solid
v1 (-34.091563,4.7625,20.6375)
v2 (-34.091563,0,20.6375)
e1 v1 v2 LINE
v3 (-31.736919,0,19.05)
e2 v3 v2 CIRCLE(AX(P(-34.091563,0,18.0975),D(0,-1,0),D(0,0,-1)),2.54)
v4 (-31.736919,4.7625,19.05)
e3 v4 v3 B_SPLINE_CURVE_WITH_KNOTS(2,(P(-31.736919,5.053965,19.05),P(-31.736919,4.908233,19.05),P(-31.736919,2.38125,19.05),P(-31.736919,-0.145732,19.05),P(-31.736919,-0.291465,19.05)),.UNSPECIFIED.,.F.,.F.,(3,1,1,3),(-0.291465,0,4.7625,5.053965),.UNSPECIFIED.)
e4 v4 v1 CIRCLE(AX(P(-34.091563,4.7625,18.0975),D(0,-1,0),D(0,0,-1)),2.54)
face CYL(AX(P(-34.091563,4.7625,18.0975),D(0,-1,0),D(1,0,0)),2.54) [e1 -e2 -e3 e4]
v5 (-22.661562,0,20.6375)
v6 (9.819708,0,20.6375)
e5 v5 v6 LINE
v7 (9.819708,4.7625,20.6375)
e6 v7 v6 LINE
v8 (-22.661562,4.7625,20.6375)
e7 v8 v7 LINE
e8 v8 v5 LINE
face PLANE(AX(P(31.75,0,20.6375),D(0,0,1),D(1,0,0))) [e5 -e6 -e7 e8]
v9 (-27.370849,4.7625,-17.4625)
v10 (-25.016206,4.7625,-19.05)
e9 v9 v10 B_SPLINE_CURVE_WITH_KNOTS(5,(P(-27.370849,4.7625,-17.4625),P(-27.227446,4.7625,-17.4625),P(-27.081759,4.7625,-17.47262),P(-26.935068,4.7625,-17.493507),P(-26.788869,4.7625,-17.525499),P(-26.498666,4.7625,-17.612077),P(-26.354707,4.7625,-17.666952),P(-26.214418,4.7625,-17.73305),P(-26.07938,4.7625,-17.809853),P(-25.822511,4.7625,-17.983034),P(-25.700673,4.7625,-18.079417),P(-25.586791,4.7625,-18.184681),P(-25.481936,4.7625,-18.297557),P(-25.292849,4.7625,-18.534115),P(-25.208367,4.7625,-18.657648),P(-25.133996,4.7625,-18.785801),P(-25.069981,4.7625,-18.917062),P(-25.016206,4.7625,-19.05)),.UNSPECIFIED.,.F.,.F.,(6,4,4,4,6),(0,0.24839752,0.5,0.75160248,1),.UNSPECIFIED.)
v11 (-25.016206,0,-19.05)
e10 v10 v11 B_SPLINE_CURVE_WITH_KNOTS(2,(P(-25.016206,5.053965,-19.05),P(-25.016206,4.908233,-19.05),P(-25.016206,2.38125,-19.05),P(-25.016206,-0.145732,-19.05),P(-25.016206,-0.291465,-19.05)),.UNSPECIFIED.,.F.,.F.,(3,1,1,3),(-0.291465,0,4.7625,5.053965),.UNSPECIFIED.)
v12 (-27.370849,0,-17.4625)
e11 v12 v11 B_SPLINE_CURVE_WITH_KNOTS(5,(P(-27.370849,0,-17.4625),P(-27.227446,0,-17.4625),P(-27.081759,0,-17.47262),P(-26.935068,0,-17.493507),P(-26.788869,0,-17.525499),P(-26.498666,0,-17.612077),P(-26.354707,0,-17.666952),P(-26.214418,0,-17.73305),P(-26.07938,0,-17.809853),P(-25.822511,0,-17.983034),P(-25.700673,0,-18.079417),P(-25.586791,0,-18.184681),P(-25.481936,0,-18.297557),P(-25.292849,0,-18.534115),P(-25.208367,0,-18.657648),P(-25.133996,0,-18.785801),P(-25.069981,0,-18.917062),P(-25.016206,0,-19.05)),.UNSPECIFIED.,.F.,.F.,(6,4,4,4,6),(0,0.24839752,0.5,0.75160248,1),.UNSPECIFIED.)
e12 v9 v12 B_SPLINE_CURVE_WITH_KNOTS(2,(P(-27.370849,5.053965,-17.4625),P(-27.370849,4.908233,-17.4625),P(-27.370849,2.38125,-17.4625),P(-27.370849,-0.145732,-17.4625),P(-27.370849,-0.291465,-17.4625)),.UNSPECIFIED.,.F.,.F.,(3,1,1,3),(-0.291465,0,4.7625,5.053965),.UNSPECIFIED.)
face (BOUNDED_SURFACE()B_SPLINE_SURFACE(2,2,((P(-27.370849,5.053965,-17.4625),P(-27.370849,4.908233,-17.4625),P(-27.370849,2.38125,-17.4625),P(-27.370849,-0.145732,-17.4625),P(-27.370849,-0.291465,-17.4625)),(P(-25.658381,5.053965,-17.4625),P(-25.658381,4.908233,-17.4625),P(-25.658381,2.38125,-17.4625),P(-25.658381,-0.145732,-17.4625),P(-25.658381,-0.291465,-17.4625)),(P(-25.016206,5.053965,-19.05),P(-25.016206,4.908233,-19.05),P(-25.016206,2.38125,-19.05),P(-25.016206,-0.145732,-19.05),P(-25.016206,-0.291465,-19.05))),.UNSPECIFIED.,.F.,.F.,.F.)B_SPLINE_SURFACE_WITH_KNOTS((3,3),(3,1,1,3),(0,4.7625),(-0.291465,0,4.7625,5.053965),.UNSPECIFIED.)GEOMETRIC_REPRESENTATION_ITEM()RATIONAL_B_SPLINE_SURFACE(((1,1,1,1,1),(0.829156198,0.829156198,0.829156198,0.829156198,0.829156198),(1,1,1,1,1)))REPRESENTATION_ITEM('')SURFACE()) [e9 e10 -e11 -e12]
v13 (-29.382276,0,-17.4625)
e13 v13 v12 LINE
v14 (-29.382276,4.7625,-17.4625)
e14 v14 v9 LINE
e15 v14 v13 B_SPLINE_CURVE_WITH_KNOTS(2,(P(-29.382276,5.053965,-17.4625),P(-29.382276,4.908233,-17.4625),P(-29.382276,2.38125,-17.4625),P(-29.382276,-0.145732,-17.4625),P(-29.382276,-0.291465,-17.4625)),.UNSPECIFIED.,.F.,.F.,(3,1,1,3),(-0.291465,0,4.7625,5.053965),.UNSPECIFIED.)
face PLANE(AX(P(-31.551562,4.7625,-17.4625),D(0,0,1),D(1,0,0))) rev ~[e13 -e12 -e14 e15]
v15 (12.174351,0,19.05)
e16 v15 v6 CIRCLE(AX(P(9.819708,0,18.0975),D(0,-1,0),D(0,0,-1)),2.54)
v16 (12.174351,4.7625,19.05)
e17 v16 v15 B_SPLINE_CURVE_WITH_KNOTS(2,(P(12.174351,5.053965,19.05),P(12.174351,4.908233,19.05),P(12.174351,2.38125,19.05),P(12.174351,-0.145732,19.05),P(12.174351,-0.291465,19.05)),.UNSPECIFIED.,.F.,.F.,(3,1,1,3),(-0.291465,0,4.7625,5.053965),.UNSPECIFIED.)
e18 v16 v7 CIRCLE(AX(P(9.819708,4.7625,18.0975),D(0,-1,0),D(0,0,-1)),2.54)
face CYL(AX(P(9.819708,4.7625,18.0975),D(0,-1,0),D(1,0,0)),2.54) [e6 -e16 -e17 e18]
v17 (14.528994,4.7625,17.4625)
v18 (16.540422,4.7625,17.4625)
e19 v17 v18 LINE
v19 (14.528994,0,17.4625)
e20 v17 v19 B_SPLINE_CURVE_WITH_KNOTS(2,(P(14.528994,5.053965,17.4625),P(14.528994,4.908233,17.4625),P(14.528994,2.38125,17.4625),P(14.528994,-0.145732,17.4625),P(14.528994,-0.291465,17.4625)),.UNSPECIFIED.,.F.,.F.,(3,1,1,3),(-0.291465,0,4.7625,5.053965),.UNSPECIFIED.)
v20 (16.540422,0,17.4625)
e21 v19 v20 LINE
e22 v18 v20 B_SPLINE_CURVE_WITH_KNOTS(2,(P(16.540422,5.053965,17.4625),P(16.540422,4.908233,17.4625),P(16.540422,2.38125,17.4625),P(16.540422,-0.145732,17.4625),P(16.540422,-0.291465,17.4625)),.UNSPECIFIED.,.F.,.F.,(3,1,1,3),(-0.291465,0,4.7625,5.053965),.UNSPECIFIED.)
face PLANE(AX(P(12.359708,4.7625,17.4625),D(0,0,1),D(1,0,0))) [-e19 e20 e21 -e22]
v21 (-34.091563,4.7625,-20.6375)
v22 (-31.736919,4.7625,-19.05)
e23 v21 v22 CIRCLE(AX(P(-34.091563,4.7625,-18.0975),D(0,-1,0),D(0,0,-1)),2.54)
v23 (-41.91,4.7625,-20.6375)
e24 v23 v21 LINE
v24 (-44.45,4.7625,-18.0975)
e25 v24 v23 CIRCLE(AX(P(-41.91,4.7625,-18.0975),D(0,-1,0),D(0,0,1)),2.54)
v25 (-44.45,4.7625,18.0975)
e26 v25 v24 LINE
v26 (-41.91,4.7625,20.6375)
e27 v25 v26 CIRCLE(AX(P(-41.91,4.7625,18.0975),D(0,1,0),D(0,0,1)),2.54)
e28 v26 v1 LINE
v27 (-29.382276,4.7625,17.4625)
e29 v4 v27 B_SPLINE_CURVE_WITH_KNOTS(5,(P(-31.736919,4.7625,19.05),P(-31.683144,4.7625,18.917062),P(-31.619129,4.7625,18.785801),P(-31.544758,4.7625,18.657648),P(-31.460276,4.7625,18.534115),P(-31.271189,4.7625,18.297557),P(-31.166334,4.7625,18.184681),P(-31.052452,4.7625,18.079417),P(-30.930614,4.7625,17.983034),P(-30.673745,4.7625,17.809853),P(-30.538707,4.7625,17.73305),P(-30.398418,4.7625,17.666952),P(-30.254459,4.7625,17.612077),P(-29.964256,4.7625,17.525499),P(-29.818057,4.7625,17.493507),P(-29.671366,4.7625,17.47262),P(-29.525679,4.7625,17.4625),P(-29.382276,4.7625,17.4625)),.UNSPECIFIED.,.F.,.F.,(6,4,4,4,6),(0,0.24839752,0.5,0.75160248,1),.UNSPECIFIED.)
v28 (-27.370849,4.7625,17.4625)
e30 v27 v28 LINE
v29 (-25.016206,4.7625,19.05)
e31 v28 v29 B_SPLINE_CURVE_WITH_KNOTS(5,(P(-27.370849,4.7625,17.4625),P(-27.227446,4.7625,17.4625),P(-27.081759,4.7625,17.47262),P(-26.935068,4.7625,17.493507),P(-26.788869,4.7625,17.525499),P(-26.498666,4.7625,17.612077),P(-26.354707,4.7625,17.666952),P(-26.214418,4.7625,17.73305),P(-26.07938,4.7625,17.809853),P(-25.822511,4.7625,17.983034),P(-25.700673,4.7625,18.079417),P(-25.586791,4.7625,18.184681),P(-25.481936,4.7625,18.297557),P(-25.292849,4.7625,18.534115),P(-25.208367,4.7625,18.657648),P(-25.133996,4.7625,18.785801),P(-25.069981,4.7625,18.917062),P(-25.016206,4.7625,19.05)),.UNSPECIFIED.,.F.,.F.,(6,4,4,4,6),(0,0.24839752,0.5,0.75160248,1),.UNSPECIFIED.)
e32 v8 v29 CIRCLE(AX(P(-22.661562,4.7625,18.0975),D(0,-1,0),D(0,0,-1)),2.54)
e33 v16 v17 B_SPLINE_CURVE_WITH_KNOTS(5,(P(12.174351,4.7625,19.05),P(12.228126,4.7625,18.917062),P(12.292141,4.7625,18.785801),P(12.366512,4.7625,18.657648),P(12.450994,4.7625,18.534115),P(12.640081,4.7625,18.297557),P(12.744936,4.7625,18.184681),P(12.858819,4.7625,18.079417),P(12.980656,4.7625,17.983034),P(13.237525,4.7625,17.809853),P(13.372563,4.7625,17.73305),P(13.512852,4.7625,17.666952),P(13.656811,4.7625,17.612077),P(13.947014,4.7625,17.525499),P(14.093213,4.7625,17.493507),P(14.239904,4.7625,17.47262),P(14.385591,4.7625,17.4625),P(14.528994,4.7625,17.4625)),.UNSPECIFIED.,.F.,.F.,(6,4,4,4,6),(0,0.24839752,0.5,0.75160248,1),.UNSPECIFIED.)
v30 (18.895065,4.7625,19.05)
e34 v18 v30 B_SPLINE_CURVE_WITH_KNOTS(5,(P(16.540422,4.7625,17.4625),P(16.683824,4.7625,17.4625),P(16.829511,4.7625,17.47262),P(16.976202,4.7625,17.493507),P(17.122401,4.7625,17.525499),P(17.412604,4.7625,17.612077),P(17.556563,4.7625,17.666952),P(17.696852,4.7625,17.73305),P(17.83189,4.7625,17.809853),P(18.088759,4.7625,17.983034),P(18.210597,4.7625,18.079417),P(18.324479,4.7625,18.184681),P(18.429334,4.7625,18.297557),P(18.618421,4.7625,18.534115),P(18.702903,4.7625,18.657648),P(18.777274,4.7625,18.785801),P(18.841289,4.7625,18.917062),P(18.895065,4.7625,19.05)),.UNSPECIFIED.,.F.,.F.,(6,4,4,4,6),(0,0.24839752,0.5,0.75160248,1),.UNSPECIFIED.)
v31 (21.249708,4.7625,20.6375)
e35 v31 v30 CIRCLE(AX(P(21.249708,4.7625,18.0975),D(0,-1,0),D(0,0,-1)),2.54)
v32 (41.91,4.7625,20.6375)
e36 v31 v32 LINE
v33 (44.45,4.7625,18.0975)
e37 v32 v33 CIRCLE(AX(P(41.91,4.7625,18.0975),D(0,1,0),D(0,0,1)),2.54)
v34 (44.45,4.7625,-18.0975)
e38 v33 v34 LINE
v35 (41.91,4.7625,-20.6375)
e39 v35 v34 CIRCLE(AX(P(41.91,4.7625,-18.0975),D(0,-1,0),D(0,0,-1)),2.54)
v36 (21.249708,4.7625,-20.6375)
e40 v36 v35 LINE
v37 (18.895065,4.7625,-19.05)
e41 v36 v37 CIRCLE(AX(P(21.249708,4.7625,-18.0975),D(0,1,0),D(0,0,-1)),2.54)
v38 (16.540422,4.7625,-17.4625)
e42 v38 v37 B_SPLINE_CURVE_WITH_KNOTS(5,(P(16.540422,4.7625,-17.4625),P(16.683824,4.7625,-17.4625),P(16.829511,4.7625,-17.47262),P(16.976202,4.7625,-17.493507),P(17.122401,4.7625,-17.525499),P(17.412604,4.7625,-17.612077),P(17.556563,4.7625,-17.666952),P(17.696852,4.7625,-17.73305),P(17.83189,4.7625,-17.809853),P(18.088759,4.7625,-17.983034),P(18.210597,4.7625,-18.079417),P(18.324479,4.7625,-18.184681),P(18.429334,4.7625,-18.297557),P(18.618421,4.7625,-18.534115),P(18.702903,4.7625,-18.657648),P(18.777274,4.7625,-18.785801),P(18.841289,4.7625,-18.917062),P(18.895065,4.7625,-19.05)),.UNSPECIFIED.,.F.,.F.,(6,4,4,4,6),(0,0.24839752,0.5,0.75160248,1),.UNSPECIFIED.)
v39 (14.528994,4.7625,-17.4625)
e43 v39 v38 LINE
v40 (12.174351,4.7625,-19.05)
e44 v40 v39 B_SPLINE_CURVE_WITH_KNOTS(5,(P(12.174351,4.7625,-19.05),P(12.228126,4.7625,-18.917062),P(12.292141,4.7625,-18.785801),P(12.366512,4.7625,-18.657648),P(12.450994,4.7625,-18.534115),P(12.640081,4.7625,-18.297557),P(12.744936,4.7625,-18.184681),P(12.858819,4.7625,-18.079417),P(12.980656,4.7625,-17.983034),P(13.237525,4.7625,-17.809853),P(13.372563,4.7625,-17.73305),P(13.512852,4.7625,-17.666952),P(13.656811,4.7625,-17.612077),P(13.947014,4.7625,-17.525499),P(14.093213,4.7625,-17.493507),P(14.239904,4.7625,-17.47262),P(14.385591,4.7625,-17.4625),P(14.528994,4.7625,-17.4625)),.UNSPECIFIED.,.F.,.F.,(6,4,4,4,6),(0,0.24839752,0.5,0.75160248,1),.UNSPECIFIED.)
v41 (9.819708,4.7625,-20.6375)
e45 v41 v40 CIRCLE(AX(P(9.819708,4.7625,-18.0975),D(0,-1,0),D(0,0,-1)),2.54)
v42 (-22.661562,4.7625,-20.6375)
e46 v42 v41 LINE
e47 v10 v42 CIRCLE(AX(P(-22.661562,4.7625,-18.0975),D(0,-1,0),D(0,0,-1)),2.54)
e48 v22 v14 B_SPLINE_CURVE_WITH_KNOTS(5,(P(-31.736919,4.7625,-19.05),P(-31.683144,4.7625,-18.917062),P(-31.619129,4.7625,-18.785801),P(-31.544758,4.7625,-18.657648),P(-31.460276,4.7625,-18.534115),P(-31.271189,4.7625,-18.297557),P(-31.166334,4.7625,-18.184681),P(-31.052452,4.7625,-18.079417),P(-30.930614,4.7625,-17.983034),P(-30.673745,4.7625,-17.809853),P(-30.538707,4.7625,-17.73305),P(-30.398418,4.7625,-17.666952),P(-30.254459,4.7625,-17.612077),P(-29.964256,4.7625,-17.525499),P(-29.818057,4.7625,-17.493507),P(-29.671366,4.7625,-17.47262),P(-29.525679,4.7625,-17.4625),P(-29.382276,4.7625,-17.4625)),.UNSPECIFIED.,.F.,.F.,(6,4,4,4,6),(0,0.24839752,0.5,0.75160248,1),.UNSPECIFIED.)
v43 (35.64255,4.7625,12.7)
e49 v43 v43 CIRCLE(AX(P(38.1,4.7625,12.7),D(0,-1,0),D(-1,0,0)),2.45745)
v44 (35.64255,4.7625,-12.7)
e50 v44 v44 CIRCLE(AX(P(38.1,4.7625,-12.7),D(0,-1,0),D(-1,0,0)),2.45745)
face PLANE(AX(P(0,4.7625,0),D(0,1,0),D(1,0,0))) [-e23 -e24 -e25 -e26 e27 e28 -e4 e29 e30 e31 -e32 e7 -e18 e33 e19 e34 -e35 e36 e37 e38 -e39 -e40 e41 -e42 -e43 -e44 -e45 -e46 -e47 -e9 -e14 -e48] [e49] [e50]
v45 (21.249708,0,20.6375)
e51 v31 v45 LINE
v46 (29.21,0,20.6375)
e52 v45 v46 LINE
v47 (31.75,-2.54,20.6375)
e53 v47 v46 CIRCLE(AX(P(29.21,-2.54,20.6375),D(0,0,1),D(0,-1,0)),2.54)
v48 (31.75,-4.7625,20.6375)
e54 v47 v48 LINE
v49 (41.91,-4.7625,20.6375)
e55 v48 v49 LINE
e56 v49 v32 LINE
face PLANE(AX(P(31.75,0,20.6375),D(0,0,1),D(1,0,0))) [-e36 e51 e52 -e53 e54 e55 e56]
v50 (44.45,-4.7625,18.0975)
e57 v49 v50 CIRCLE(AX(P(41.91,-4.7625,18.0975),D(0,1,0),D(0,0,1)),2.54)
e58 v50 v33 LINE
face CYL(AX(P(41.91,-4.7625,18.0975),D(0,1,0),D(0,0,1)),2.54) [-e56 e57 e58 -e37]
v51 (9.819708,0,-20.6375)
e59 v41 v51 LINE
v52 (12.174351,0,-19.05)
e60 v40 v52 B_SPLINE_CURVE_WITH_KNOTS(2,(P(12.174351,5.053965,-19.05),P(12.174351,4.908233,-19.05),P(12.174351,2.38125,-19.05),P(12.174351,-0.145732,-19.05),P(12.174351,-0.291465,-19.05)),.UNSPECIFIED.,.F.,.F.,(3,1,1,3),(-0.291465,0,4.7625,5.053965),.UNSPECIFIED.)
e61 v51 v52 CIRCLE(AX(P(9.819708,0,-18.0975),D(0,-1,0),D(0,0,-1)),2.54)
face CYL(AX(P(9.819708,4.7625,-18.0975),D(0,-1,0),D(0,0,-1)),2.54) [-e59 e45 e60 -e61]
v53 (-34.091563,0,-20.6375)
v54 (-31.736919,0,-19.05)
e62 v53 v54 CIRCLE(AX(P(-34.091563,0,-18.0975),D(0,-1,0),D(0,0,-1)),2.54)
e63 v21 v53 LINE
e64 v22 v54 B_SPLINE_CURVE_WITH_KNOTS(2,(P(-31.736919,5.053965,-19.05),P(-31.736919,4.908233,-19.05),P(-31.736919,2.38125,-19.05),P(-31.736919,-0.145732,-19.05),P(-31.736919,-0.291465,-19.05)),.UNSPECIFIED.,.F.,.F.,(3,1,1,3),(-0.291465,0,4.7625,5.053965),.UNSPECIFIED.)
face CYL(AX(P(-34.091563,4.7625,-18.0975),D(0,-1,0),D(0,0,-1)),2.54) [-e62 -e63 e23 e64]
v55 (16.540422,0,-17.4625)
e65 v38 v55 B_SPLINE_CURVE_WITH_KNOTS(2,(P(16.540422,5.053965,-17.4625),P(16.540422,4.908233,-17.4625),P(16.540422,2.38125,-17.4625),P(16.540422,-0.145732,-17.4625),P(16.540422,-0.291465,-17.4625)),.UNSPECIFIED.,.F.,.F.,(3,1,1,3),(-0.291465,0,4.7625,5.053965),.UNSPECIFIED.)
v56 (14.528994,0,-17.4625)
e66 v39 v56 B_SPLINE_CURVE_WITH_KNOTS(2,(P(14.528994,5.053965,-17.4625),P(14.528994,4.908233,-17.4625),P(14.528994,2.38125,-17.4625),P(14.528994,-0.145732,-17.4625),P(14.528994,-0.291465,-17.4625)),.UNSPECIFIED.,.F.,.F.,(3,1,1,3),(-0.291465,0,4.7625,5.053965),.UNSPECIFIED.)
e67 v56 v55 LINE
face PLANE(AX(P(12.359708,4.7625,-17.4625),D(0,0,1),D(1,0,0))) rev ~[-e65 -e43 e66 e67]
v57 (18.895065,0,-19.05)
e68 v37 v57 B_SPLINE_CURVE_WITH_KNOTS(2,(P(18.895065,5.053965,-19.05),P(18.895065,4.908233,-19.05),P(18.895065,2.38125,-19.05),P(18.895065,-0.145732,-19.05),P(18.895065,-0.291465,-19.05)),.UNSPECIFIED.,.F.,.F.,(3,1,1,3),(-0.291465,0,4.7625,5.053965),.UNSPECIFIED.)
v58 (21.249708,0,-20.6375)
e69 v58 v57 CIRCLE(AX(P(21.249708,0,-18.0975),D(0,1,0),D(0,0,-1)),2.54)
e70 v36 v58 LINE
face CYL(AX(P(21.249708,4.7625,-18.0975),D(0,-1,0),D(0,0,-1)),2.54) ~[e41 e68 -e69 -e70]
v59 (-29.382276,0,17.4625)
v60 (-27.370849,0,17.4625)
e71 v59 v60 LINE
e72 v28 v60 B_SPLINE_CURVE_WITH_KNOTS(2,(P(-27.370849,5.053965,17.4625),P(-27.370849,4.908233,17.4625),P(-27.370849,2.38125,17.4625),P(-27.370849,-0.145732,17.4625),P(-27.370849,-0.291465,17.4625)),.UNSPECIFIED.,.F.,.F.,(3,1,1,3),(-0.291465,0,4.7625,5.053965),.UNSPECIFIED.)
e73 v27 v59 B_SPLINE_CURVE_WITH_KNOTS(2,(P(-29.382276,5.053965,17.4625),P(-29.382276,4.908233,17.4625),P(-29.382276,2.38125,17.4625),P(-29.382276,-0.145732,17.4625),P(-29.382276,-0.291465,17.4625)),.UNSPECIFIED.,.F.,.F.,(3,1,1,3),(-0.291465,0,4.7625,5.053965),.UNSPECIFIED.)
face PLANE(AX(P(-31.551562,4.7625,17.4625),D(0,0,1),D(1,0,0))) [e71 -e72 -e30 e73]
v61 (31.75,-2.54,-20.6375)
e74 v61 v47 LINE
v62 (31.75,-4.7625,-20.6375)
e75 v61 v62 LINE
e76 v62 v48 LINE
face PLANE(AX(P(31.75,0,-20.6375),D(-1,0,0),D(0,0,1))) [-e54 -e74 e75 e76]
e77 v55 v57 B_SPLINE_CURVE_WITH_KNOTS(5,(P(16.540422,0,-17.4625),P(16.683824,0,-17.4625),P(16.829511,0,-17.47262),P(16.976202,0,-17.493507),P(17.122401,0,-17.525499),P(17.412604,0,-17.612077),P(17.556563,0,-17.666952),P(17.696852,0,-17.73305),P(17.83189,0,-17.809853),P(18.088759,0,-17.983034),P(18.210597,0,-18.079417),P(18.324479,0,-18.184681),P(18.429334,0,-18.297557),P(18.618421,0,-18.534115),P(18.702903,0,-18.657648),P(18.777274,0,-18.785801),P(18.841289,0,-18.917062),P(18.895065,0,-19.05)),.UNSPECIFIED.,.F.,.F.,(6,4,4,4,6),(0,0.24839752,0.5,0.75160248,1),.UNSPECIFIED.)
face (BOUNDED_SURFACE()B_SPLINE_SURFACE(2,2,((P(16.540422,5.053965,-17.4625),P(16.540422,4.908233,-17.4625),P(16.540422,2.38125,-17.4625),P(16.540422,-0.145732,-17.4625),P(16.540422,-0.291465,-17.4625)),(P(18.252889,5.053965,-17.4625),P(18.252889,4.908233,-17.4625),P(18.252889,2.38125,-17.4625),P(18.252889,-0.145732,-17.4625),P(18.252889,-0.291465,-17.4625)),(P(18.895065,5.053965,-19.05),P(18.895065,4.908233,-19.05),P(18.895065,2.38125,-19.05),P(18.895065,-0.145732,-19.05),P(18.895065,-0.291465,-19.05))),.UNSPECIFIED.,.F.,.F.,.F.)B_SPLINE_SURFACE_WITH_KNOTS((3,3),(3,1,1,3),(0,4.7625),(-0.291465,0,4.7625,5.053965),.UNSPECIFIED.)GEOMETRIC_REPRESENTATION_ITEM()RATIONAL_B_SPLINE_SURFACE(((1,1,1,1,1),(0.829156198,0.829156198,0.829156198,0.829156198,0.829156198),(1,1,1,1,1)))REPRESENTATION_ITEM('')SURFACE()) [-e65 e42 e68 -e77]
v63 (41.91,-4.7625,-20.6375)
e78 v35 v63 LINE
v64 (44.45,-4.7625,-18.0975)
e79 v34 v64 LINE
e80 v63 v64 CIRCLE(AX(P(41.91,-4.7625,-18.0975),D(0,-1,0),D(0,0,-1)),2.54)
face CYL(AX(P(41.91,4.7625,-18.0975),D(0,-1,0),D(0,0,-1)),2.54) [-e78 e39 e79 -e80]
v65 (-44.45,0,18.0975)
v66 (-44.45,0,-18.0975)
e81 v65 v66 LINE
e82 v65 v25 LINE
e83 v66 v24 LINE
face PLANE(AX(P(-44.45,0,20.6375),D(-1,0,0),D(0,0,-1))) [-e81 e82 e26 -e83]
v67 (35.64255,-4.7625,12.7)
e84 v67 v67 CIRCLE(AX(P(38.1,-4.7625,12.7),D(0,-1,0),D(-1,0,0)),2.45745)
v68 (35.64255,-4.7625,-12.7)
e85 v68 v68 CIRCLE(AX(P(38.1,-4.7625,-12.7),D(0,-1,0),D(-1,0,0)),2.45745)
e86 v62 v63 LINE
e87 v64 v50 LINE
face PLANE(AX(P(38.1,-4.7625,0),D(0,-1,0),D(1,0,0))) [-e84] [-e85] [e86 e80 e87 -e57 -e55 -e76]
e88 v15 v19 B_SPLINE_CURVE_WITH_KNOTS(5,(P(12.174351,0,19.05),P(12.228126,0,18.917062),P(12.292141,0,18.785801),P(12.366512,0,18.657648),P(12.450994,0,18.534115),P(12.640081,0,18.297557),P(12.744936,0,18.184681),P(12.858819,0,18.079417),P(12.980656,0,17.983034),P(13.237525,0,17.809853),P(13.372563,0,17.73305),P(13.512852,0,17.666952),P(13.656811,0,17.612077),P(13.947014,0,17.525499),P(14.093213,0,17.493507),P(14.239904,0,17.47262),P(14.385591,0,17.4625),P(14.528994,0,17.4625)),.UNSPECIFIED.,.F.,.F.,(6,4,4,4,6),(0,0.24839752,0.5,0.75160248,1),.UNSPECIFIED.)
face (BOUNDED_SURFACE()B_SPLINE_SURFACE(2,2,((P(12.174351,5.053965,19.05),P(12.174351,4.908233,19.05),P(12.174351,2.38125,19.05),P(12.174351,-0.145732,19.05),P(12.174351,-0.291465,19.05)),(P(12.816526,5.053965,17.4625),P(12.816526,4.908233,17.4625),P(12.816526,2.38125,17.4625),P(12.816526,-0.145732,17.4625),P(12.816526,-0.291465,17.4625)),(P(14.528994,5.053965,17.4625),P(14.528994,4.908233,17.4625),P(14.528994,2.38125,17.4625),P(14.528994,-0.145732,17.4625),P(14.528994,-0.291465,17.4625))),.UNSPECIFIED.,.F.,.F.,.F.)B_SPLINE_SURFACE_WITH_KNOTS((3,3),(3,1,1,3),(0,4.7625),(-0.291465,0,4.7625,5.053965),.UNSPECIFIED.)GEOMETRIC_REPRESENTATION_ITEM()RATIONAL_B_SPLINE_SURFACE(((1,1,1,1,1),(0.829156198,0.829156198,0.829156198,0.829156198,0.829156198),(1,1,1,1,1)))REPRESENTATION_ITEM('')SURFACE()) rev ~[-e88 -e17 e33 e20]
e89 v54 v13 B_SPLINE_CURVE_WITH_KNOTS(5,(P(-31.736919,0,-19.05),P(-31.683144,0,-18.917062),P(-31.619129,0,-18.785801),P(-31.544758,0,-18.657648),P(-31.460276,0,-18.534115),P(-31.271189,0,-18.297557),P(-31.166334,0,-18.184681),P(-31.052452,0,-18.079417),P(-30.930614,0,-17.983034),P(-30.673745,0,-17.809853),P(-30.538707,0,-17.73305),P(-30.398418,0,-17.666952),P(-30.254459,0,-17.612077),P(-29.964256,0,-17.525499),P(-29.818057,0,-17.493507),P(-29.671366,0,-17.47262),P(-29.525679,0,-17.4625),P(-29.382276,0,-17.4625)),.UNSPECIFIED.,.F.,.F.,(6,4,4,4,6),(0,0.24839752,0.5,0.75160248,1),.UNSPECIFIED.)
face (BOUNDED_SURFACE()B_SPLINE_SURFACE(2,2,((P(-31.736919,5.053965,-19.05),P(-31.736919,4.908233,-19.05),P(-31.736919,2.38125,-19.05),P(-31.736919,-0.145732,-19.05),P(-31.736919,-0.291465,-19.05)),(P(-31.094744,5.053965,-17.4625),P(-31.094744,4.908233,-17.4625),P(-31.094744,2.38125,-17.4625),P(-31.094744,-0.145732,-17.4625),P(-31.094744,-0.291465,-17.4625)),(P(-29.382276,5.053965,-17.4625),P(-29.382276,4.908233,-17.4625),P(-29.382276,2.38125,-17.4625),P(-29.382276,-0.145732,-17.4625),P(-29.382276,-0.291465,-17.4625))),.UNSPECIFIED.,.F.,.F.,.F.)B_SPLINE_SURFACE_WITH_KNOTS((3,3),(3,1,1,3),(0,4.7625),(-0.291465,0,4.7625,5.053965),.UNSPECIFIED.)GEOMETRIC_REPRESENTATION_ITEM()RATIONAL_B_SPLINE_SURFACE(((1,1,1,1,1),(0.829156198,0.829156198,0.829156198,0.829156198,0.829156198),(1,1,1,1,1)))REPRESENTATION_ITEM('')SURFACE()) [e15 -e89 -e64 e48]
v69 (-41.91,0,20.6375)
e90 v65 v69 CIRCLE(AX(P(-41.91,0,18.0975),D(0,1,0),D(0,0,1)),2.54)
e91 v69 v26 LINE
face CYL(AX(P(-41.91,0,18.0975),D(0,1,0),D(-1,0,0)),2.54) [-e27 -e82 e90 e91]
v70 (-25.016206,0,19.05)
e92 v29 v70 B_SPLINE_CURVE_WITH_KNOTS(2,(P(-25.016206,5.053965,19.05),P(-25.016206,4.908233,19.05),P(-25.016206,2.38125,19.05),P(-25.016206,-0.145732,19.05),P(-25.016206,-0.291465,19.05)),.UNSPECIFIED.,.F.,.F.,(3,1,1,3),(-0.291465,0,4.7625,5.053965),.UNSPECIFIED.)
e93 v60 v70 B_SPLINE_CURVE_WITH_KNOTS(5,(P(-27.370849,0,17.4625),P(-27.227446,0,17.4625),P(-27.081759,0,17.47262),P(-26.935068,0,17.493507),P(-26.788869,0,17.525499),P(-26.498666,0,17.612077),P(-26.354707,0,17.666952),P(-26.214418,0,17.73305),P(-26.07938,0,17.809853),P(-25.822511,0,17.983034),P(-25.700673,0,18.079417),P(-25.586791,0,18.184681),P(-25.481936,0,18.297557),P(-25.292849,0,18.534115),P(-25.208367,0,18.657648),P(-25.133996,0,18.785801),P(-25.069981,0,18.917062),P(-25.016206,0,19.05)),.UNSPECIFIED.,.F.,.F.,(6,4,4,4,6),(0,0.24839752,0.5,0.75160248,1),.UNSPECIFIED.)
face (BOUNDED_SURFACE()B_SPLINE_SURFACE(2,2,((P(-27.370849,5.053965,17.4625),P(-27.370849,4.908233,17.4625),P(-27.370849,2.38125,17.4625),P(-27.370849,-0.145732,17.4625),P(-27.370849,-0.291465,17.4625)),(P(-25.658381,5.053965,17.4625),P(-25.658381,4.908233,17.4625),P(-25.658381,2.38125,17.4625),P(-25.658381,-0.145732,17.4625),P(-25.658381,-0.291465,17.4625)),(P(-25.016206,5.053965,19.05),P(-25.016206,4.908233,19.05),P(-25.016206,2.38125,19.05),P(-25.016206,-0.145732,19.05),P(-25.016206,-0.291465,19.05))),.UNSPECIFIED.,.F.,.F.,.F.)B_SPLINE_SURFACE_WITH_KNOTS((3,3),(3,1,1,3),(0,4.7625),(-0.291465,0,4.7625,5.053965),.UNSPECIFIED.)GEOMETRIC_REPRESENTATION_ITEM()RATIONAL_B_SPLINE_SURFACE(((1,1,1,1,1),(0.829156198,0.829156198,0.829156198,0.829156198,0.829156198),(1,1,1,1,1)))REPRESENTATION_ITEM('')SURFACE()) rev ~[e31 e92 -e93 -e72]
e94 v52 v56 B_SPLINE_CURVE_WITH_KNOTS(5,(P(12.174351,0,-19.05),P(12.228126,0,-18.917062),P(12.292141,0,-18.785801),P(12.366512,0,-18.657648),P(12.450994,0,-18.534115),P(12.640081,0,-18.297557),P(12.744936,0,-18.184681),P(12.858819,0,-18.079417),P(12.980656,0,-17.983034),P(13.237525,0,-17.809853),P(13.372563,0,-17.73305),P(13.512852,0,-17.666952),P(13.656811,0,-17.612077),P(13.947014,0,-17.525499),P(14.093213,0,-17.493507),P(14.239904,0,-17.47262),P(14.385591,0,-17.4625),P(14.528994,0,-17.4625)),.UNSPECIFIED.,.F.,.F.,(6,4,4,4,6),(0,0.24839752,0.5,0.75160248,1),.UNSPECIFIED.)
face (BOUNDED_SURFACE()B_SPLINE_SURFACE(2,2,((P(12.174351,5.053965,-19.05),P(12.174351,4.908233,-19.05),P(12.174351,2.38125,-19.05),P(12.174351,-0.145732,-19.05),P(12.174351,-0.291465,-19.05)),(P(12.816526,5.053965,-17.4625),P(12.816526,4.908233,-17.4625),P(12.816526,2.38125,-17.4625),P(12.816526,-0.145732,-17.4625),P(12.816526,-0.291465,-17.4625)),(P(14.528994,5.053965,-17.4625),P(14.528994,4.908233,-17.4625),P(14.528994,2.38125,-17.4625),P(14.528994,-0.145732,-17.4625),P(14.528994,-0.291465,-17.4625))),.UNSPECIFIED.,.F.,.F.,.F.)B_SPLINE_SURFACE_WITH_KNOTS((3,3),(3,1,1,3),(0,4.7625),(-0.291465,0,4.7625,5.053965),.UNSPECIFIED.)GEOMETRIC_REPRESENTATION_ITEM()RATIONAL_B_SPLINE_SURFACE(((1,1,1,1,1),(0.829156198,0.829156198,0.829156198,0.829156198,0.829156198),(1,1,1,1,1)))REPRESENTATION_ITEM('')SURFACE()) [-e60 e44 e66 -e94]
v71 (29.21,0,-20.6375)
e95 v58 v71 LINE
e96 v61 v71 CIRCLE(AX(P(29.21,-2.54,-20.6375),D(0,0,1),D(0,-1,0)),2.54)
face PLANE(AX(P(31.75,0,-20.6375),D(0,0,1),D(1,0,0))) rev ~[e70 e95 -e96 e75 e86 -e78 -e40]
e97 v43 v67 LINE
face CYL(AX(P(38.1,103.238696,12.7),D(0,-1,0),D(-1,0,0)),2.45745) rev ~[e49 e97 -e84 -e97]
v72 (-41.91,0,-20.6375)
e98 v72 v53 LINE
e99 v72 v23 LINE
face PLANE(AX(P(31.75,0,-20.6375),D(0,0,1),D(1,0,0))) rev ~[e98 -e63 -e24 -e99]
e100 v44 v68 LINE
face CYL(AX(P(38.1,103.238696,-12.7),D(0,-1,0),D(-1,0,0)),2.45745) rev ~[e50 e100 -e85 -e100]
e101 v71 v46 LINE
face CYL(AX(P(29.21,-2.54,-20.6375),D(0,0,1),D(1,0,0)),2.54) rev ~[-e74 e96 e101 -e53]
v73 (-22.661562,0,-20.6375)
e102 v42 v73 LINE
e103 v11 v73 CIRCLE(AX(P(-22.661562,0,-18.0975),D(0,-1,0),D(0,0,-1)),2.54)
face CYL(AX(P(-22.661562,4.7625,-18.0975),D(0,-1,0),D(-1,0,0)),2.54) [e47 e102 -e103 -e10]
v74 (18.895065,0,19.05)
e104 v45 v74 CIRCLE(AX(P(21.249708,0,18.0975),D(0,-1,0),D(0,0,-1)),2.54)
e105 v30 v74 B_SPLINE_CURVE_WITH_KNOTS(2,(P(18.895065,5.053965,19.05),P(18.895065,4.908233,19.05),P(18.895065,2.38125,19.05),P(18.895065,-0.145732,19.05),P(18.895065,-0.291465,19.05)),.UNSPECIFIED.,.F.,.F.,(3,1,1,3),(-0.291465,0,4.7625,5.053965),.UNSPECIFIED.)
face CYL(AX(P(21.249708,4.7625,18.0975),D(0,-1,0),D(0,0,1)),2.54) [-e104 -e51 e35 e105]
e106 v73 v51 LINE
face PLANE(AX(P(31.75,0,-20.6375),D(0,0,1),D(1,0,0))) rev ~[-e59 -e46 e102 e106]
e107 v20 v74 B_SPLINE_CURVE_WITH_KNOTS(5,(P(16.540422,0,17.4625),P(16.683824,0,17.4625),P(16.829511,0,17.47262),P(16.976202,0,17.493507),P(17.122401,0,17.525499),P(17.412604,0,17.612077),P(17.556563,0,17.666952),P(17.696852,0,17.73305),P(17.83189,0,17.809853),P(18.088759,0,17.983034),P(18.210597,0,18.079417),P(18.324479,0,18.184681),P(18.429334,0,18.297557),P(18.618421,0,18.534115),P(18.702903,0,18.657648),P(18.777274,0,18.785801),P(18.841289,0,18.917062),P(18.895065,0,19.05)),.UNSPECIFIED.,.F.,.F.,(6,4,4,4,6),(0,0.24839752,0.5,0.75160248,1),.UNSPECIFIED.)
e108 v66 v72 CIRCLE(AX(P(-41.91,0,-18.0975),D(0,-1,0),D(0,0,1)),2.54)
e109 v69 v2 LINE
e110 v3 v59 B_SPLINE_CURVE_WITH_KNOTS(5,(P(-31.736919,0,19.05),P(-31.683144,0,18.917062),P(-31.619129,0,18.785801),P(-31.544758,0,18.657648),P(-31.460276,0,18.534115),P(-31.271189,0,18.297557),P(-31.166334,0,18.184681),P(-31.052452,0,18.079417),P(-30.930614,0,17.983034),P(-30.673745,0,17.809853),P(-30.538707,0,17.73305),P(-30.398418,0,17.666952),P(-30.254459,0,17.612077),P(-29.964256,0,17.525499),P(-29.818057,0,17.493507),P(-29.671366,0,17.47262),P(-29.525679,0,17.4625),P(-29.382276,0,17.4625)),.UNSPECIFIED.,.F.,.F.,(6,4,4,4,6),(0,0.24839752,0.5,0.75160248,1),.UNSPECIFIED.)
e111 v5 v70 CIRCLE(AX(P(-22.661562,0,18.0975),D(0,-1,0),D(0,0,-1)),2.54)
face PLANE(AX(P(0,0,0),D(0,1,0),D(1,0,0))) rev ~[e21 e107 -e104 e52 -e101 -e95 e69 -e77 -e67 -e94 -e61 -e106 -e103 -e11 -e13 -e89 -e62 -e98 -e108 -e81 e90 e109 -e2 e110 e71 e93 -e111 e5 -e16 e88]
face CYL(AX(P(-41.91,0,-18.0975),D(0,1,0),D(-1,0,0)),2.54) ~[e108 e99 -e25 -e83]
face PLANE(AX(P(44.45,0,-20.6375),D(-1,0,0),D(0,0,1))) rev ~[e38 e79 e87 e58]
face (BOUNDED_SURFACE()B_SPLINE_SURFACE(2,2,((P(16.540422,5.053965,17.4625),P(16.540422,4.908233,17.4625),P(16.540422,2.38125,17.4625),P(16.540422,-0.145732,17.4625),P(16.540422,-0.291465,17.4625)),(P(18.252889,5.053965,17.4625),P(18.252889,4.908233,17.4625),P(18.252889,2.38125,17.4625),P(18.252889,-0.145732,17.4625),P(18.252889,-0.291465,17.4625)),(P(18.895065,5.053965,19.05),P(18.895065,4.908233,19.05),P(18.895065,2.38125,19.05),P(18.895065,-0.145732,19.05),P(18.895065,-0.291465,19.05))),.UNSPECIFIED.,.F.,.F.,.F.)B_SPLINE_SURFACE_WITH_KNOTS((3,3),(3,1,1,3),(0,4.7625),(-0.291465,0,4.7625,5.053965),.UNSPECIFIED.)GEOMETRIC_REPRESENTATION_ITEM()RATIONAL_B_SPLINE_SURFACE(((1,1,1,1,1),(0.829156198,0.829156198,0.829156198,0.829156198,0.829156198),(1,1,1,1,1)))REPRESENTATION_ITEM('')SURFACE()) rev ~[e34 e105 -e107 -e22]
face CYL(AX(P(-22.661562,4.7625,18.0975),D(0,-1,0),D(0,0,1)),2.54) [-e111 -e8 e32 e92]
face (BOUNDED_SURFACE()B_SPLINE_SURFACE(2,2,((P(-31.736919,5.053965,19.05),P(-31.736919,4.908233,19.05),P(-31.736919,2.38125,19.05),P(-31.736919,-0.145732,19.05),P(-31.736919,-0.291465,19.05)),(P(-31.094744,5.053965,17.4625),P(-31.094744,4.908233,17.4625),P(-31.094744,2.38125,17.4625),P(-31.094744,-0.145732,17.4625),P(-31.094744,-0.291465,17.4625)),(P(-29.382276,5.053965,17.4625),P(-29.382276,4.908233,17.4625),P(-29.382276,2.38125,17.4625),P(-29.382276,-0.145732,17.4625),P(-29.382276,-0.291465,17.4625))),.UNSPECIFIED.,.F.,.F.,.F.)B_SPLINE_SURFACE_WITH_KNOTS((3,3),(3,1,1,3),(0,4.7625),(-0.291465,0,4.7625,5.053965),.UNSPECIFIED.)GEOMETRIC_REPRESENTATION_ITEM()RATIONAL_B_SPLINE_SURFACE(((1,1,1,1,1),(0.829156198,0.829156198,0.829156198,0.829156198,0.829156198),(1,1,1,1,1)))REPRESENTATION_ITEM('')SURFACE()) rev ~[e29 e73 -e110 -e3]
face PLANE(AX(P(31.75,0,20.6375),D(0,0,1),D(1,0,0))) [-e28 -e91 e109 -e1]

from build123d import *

# Parameters (mm, degrees)
SKETCH1_W                    = 88.9
SKETCH1_H                    = 41.275
BOSS_EXTRUDE1_DEPTH          = 4.7625
SKETCH3_W                    = 12.7
SKETCH3_H                    = 41.275
BOSS_EXTRUDE2_DEPTH          = 4.7625
F_10_0_1935_DIAMETER_HOLE1_D = 4.9149
SKETCH9_W                    = 6.35
SKETCH9_H                    = 3.175
CUT_EXTRUDE1_DEPTH           = 50.924287989
FILLET1_R                    = 2.54
FILLET2_R                    = 2.54


with BuildPart() as part:
    # Sketch1 → Boss-Extrude1 (new body)
    with BuildSketch(Plane(origin=(0, 0, 0), x_dir=(1, 0, 0), z_dir=(0, 1, 0))):
        Rectangle(SKETCH1_W, SKETCH1_H)
    extrude(amount=BOSS_EXTRUDE1_DEPTH)

    # Sketch3 → Boss-Extrude2 (add)
    with BuildSketch(Plane.XZ):
        with Locations((38.1, 0)):
            Rectangle(SKETCH3_W, SKETCH3_H)
    extrude(amount=BOSS_EXTRUDE2_DEPTH)

    # #10 (0.1935) Diameter Hole1 (through all)
    with Locations(Plane(origin=(0, 4.7625, 0), x_dir=(1, 0, 0), z_dir=(0, 1, 0))):
        with Locations((38.1, 12.7), (38.1, -12.7)):
            Hole(F_10_0_1935_DIAMETER_HOLE1_D / 2)

    # Sketch9 → Cut-Extrude1 (cut, through all)
    with BuildSketch(Plane(origin=(0, 4.7625, 0), x_dir=(1, 0, 0), z_dir=(0, 1, 0))):
        with Locations((15.534707564, 19.05)):
            Rectangle(SKETCH9_W, SKETCH9_H)
        with Locations((-28.3765625, 19.05)):
            Rectangle(SKETCH9_W, SKETCH9_H)
        with Locations((-28.3765625, -19.05)):
            Rectangle(SKETCH9_W, SKETCH9_H)
        with Locations((15.534707564, -19.05)):
            Rectangle(SKETCH9_W, SKETCH9_H)
    extrude(amount=-CUT_EXTRUDE1_DEPTH, mode=Mode.SUBTRACT)

    # Fillet1
    fillet1_edges = [part.edges().sort_by_distance(p)[0] for p in [
        (31.75, 0, 0),
        (12.359707564, 2.38125, 20.6375),
        (18.709707564, 2.38125, 20.6375),
        (-31.5515625, 2.38125, 20.6375),
        (-25.2015625, 2.38125, 20.6375),
        (44.45, 0, 20.6375),
        (-44.45, 2.38125, 20.6375),
        (-31.5515625, 2.38125, -20.6375),
        (-25.2015625, 2.38125, -20.6375),
        (-44.45, 2.38125, -20.6375),
        (44.45, 0, -20.6375),
        (12.359707564, 2.38125, -20.6375),
        (18.709707564, 2.38125, -20.6375),
    ]]
    fillet(fillet1_edges, radius=FILLET1_R)

    # Fillet2
    fillet2_edges = [part.edges().sort_by_distance(p)[0] for p in [
        (18.709707564, 2.38125, -17.4625),
        (12.359707564, 2.38125, -17.4625),
        (-31.5515625, 2.38125, -17.4625),
        (-25.2015625, 2.38125, -17.4625),
        (-25.2015625, 2.38125, 17.4625),
        (-31.5515625, 2.38125, 17.4625),
        (12.359707564, 2.38125, 17.4625),
        (18.709707564, 2.38125, 17.4625),
    ]]
    fillet(fillet2_edges, radius=FILLET2_R)


solid = part.part
